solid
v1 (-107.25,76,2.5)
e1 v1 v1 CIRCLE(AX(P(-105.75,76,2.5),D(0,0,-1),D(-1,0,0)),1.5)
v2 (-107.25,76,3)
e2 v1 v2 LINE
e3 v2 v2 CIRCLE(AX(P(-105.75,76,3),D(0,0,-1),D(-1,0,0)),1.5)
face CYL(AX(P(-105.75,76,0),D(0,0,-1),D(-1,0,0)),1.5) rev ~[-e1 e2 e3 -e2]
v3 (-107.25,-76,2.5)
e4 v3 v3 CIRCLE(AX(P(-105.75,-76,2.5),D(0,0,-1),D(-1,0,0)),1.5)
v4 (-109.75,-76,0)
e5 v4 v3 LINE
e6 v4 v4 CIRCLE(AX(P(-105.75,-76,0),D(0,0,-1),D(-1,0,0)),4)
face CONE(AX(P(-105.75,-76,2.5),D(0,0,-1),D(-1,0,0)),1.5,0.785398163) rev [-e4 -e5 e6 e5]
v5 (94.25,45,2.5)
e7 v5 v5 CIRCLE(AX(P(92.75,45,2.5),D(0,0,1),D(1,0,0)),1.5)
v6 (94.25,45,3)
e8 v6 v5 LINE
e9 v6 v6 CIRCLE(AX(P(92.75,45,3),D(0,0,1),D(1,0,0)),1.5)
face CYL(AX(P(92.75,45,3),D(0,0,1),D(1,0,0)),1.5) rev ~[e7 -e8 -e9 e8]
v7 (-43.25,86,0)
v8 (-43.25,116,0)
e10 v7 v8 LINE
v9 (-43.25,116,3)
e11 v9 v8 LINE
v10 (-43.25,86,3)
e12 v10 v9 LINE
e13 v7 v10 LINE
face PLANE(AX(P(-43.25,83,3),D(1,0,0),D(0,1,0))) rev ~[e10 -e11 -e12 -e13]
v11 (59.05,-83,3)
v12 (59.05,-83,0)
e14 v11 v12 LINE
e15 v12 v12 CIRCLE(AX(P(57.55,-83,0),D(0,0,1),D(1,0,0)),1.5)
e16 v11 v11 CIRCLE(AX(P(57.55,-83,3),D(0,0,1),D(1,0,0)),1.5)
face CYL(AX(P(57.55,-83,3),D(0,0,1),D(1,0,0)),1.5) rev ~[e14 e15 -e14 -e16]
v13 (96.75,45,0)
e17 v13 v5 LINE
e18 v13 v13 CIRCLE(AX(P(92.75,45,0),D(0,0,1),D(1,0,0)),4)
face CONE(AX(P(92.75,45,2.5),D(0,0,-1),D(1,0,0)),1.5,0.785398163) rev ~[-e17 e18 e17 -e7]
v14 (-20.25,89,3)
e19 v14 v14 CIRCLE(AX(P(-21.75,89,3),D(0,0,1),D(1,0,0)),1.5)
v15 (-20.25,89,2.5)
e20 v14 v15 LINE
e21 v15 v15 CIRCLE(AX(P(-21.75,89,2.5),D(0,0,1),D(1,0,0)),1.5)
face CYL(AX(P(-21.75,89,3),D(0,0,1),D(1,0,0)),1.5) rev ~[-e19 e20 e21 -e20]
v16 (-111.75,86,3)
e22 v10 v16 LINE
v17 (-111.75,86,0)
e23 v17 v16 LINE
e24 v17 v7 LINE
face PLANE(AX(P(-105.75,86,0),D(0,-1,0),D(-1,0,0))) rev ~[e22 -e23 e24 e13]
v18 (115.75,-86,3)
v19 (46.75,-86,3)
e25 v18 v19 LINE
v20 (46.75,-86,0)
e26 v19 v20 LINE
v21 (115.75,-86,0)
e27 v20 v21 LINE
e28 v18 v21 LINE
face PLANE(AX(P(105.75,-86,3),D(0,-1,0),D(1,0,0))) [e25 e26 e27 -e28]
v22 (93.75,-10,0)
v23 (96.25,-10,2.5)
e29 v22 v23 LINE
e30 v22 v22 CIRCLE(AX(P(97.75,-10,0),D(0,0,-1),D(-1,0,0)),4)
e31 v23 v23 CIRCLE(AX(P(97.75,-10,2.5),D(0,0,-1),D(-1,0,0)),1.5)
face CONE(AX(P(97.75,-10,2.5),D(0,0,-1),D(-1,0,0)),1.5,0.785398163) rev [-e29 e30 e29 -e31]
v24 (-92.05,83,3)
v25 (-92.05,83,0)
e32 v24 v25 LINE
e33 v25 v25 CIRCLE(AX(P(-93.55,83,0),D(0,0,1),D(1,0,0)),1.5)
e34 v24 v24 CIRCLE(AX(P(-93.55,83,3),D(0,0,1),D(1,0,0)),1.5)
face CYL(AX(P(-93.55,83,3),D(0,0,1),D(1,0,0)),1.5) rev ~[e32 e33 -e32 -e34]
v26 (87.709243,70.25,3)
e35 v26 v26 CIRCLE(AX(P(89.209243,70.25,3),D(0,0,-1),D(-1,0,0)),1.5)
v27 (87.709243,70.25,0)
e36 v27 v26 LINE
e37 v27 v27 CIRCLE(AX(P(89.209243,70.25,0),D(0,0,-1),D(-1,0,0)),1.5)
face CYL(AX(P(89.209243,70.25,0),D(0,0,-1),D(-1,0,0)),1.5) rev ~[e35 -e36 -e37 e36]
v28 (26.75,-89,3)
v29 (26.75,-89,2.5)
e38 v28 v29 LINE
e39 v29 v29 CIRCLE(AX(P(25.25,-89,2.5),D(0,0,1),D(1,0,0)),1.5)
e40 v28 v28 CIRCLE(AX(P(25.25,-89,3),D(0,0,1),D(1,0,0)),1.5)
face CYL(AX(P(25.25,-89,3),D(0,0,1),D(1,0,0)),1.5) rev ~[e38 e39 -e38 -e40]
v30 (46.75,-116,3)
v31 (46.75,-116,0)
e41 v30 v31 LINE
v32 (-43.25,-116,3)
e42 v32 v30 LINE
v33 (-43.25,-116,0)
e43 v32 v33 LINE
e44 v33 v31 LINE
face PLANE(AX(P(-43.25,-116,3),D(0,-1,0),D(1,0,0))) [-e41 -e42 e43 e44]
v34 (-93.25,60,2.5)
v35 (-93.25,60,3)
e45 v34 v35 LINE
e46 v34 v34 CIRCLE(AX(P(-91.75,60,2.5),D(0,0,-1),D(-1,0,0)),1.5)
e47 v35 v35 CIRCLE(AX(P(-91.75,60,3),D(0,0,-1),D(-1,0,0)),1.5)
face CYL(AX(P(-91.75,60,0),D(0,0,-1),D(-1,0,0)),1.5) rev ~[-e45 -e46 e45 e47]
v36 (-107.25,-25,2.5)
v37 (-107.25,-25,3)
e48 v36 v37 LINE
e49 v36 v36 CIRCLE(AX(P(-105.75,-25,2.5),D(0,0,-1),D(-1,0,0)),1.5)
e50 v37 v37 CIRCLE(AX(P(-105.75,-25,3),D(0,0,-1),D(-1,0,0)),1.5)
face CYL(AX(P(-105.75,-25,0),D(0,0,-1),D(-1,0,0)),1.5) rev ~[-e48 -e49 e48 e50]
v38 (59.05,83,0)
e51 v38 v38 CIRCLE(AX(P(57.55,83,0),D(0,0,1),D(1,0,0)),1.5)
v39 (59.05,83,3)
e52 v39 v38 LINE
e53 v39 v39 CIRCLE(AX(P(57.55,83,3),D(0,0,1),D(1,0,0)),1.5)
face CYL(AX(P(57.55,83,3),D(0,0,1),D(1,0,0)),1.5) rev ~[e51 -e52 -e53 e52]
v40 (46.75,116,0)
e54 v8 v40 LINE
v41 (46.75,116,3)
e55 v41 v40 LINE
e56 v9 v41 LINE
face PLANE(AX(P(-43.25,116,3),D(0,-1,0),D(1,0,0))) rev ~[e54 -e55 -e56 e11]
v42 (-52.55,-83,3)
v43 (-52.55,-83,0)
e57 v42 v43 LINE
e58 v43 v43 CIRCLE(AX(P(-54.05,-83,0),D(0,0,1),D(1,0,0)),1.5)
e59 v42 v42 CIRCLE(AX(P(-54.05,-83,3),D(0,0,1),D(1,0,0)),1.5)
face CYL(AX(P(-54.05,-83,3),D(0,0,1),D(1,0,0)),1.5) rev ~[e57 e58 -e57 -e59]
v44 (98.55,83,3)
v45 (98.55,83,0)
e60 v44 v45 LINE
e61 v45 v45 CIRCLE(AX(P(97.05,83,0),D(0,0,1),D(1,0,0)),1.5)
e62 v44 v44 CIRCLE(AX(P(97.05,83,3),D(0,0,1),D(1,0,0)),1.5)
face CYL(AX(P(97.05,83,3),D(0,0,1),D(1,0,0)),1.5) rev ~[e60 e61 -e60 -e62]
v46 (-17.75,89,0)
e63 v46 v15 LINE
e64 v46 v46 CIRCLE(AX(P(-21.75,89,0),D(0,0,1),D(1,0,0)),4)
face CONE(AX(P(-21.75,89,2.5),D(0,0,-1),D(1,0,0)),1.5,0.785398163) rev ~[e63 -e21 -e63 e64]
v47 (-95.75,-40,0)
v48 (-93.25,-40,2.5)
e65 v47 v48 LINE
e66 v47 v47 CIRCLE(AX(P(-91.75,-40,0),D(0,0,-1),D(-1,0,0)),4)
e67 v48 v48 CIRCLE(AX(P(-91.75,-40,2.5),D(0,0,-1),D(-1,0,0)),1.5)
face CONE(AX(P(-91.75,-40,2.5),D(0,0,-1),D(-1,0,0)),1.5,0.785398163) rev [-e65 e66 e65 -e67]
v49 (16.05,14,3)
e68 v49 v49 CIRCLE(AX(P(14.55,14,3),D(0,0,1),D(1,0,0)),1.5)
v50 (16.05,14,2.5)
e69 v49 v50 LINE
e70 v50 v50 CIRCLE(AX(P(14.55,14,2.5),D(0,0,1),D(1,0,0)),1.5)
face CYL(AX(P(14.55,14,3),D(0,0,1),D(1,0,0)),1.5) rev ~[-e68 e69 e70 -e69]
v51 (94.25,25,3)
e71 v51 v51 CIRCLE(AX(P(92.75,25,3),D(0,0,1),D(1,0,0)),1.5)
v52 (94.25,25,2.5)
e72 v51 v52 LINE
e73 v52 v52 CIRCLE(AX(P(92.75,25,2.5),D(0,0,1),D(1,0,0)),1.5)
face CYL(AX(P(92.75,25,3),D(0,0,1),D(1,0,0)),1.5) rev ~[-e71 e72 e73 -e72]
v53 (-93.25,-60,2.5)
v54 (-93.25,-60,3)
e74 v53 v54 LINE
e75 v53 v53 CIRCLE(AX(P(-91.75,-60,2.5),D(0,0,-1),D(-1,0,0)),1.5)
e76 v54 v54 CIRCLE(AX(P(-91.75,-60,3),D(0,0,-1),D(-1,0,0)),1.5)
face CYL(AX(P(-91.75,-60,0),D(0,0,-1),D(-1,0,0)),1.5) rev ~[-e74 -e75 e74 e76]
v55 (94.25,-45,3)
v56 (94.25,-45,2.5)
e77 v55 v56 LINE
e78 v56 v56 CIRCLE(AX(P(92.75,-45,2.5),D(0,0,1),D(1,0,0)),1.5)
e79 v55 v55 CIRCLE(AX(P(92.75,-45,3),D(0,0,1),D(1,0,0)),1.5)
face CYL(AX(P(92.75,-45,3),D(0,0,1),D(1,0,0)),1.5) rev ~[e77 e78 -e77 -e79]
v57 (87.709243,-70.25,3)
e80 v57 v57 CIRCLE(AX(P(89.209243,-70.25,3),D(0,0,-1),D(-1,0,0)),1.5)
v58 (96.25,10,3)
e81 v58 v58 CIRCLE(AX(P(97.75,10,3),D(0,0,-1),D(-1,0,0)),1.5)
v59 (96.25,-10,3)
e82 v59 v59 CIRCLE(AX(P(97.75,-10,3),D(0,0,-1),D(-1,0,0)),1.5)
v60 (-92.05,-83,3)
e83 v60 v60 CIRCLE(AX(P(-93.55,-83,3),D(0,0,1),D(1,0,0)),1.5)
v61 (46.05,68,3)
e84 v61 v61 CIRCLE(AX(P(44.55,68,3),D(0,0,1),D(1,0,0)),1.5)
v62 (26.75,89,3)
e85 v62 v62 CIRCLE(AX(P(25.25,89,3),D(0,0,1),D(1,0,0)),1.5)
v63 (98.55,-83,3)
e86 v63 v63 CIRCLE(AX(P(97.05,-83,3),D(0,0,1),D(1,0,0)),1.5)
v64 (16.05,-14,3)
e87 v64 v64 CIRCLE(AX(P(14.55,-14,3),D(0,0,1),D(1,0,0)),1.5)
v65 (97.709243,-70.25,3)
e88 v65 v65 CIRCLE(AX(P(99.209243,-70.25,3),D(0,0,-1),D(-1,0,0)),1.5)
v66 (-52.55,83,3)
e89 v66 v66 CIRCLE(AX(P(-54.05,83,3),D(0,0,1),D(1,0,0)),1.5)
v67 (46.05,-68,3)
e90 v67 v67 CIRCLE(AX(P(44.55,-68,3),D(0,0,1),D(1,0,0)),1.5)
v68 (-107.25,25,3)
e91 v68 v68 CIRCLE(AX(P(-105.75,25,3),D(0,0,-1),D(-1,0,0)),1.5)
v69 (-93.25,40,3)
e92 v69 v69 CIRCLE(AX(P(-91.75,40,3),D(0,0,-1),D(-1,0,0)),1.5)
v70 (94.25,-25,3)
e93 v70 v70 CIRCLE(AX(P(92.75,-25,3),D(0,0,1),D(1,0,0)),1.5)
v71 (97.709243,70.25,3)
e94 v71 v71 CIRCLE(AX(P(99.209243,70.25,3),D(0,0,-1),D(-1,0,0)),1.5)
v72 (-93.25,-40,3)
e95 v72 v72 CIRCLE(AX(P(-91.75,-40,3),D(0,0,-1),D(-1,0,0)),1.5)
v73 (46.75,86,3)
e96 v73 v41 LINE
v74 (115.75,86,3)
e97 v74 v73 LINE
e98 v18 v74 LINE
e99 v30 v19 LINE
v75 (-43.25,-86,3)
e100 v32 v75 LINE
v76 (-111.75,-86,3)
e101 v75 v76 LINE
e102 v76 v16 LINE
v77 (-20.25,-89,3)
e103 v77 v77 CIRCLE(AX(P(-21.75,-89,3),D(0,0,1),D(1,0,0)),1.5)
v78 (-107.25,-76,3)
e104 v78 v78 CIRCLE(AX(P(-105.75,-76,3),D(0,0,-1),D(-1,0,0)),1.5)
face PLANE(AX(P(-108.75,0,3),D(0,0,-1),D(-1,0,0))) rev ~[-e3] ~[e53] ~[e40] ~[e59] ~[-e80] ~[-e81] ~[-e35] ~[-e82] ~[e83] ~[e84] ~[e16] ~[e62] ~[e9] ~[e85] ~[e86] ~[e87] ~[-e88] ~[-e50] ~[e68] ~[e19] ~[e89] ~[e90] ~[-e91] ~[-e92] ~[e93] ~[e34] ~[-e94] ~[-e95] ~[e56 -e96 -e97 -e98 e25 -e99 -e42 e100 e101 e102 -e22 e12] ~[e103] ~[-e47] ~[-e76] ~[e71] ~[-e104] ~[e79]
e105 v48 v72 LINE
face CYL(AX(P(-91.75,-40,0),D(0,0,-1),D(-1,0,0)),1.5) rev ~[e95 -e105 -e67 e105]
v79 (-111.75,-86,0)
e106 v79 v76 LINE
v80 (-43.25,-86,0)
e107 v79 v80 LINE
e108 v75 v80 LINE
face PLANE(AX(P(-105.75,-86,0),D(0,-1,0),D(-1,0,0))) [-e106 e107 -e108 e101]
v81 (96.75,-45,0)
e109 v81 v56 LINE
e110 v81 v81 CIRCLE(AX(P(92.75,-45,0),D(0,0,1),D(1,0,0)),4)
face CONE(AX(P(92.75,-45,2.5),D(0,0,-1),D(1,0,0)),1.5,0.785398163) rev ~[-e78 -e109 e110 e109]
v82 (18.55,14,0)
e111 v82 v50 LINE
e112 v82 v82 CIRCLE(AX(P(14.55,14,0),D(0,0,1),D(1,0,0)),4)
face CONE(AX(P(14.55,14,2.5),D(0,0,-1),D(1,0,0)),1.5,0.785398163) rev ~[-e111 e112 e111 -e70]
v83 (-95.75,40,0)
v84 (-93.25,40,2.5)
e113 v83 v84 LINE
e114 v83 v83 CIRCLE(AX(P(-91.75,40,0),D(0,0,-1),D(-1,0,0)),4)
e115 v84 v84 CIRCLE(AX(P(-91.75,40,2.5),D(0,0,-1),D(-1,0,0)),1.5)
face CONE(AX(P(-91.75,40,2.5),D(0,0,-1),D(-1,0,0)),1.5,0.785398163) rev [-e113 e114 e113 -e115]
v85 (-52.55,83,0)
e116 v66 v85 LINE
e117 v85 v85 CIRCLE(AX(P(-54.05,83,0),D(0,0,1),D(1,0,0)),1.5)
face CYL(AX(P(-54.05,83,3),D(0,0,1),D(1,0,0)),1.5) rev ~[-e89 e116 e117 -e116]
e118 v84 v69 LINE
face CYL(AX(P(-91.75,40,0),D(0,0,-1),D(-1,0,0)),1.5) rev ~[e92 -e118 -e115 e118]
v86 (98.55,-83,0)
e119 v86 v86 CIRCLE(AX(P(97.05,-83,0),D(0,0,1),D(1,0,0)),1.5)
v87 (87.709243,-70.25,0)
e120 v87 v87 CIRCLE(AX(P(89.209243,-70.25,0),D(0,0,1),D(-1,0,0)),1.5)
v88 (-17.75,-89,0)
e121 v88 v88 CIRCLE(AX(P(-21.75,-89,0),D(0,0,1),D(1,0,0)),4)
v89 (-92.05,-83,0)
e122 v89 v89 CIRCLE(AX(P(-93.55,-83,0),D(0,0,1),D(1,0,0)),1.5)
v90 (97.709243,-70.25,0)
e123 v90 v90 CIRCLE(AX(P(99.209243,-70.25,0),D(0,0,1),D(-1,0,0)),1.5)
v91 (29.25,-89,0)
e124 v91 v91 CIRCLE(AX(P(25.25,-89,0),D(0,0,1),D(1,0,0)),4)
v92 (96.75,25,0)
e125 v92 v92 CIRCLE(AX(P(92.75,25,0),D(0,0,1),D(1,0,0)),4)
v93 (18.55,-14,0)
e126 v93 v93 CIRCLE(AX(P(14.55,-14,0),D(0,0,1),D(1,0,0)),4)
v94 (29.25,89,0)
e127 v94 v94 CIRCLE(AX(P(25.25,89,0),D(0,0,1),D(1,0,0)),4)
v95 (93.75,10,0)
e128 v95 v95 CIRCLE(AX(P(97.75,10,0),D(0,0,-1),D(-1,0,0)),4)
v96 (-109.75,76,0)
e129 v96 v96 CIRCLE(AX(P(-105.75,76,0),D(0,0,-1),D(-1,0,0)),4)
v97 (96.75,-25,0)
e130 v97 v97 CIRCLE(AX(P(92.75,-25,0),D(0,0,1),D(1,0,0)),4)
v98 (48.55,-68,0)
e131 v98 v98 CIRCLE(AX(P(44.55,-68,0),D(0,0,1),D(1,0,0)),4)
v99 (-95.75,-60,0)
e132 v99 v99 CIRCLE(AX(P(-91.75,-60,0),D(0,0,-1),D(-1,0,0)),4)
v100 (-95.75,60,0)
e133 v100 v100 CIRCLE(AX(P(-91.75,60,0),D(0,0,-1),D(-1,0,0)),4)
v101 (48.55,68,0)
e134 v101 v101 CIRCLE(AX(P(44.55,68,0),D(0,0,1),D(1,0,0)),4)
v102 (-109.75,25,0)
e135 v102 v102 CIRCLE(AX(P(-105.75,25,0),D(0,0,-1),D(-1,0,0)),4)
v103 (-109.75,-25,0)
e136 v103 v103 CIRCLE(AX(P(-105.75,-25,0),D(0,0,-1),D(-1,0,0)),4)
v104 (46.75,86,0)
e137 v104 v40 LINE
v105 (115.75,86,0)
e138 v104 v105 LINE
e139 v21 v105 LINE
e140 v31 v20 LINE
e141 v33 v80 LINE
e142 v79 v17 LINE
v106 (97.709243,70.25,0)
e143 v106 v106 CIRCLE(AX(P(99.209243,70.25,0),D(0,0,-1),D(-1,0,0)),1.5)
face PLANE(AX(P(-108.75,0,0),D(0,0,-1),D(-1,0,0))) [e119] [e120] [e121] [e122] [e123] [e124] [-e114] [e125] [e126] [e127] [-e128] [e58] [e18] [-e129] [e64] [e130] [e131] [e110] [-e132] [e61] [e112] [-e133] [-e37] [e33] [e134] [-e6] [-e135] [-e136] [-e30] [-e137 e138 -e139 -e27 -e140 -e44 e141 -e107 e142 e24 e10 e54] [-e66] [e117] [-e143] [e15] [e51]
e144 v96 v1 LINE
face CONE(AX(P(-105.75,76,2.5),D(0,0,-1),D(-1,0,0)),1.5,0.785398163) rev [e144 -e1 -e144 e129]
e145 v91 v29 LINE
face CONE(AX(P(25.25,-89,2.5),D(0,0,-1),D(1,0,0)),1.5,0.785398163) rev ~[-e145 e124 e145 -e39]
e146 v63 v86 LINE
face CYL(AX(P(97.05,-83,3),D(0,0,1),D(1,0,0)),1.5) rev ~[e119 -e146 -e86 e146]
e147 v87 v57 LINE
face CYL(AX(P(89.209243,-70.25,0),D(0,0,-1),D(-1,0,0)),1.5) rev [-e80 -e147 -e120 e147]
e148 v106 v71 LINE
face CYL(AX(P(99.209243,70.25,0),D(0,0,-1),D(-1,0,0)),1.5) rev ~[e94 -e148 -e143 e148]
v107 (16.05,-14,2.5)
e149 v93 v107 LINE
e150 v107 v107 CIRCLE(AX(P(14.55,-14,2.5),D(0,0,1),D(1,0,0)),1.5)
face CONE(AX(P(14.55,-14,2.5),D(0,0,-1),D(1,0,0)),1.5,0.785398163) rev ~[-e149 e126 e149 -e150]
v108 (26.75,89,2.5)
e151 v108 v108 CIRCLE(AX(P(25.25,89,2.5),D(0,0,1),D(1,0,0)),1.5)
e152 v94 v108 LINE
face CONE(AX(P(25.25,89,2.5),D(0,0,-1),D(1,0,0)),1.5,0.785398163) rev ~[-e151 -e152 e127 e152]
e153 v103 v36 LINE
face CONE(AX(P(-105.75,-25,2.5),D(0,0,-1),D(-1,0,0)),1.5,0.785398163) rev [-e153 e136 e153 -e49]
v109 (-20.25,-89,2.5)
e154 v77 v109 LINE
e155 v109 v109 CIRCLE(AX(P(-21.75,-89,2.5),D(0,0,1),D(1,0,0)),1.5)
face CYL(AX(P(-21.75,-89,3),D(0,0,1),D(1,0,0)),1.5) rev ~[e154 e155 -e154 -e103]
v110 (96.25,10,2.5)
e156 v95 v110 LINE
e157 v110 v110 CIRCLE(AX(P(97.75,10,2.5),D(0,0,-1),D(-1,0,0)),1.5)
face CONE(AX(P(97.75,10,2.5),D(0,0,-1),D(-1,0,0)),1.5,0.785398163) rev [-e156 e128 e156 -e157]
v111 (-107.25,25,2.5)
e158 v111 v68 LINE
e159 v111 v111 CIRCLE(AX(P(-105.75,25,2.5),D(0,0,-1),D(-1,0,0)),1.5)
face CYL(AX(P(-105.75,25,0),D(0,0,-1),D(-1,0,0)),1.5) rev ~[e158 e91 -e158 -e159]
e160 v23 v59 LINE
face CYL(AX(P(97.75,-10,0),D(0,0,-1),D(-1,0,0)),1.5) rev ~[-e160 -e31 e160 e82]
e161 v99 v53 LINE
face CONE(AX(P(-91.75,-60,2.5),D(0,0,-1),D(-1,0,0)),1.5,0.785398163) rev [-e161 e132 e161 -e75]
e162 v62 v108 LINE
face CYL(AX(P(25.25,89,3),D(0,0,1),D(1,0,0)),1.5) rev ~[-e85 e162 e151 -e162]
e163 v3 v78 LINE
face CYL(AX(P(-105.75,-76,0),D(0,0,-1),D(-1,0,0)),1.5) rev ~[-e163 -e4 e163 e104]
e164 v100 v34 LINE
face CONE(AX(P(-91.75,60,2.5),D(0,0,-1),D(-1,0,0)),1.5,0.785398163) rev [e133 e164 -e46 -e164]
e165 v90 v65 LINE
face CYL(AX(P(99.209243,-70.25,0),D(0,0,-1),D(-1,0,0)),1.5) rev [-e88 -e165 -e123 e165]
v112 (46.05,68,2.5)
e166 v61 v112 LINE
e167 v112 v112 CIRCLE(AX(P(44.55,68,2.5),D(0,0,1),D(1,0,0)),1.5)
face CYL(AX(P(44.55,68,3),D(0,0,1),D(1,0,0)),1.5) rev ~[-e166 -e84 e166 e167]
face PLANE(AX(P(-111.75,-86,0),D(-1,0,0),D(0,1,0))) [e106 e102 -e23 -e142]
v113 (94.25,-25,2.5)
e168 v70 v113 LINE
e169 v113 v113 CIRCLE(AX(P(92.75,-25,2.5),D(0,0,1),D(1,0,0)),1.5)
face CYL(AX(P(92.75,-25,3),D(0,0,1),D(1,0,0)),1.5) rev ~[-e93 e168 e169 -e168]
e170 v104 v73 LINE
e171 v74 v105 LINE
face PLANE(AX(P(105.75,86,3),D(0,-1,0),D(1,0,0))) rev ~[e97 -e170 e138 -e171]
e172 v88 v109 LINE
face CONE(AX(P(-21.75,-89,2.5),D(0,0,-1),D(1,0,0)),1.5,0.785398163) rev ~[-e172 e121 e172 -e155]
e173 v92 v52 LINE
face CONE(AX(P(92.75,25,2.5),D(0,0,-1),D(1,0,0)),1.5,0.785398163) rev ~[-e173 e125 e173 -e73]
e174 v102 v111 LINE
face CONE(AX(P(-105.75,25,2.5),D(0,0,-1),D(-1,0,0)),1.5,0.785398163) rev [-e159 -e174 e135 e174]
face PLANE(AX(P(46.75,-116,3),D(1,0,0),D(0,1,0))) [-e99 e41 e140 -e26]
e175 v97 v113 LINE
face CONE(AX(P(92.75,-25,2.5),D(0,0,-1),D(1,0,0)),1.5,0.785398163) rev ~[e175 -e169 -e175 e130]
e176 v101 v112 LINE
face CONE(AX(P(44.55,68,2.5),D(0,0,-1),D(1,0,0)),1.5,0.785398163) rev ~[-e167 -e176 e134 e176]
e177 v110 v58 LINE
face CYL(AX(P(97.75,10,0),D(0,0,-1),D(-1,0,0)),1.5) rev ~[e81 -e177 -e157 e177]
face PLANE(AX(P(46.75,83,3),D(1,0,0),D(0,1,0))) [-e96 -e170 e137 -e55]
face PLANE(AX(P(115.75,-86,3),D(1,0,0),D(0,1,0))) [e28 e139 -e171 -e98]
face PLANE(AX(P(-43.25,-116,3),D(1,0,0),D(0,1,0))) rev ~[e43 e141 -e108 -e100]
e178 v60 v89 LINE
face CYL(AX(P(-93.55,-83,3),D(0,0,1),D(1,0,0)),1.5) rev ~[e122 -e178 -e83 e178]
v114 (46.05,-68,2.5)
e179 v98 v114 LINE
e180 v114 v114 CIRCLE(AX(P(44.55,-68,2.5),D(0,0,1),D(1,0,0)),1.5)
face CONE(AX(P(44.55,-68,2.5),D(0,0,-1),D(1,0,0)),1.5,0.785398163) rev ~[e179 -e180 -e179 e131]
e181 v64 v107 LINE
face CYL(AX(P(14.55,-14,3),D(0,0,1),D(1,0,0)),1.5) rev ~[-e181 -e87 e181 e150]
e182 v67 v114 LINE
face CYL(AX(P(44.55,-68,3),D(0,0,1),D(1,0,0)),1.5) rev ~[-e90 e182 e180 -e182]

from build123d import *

# Parameters (mm, degrees)
EXTRUDE_1_DEPTH     = 3
SKETCH_2_R          = 1.5
CUT_EXTRUDE_1_DEPTH = 10
SKETCH_3_W          = 10
SKETCH_3_H          = 172
SKETCH_3_W_2        = 90
SKETCH_3_H_2        = 33
EXTRUDE_2_DEPTH     = 3
SKETCH_4_R          = 1.5
CUT_EXTRUDE_2_DEPTH = 10
SKETCH_5_R          = 1.5
CUT_EXTRUDE_3_DEPTH = 10
SKETCH_6_R          = 1.5
CUT_EXTRUDE_4_DEPTH = 10
SKETCH_7_R          = 1.5
CUT_EXTRUDE_5_DEPTH = 74
SKETCH_8_R          = 1.5
CUT_EXTRUDE_6_DEPTH = 10
SKETCH_9_W          = 6
SKETCH_9_H          = 172
EXTRUDE_3_DEPTH     = 3
SKETCH_10_R         = 1.5
CUT_EXTRUDE_7_DEPTH = 15
CHAMFER_2_SIZE      = 2.5
CHAMFER_3_SIZE      = 2.5
CHAMFER_4_SIZE      = 2.5
CHAMFER_5_SIZE      = 2.5
CHAMFER_6_SIZE      = 2.5
CHAMFER_7_SIZE      = 2.5
CHAMFER_8_SIZE      = 2.5
SKETCH_11_R         = 1.5
CUT_EXTRUDE_8_DEPTH = 10


with BuildPart() as part:
    # 草图1 → 凸台-拉伸1 (new body)
    with BuildSketch(Plane.XY):
        Polygon((-105.75, 86), (-105.75, 70), (-105.75, -86), (105.75, -86), (105.75, 86), align=None)
    extrude(amount=EXTRUDE_1_DEPTH)

    # 草图2 → 切除-拉伸1 (cut)
    with BuildSketch(Plane.XY.offset(3)):
        with Locations((97.05, 83)):
            Circle(SKETCH_2_R)
        with Locations((-93.55, 83)):
            Circle(SKETCH_2_R)
        with Locations((57.55, 83)):
            Circle(SKETCH_2_R)
        with Locations((-54.05, 83)):
            Circle(SKETCH_2_R)
        with Locations((57.55, -83)):
            Circle(SKETCH_2_R)
        with Locations((97.05, -83)):
            Circle(SKETCH_2_R)
        with Locations((-54.05, -83)):
            Circle(SKETCH_2_R)
        with Locations((-93.55, -83)):
            Circle(SKETCH_2_R)
    extrude(amount=-CUT_EXTRUDE_1_DEPTH, mode=Mode.SUBTRACT)

    # 草图3 → 凸台-拉伸2 (add)
    with BuildSketch(Plane.XY.offset(3)):
        with Locations((110.75, 0)):
            Rectangle(SKETCH_3_W, SKETCH_3_H)
        with Locations((1.75, 99.5)):
            Rectangle(SKETCH_3_W_2, SKETCH_3_H_2)
        with Locations((1.75, -99.5)):
            Rectangle(SKETCH_3_W_2, SKETCH_3_H_2)
    extrude(amount=-EXTRUDE_2_DEPTH)

    # 草图4 → 切除-拉伸2 (cut)
    with BuildSketch(Plane.XY.offset(3)):
        with Locations((44.55, 68)):
            Circle(SKETCH_4_R)
        with Locations((14.55, -14)):
            Circle(SKETCH_4_R)
        with Locations((14.55, 14)):
            Circle(SKETCH_4_R)
        with Locations((44.55, -68)):
            Circle(SKETCH_4_R)
    extrude(amount=-CUT_EXTRUDE_2_DEPTH, mode=Mode.SUBTRACT)

    # 草图5 → 切除-拉伸3 (cut)
    with BuildSketch(Plane.XY.offset(3)):
        with Locations((92.75, 45)):
            Circle(SKETCH_5_R)
        with Locations((92.75, 25)):
            Circle(SKETCH_5_R)
        with Locations((92.75, -25)):
            Circle(SKETCH_5_R)
        with Locations((92.75, -45)):
            Circle(SKETCH_5_R)
    extrude(amount=-CUT_EXTRUDE_3_DEPTH, mode=Mode.SUBTRACT)

    # 草图6 → 切除-拉伸4 (cut)
    with BuildSketch(Plane.XY.offset(3)):
        with Locations((25.25, -89)):
            Circle(SKETCH_6_R)
        with Locations((-21.75, 89)):
            Circle(SKETCH_6_R)
        with Locations((25.25, 89)):
            Circle(SKETCH_6_R)
        with Locations((-21.75, -89)):
            Circle(SKETCH_6_R)
    extrude(amount=-CUT_EXTRUDE_4_DEPTH, mode=Mode.SUBTRACT)

    # 草图7 → 切除-拉伸5 (cut)
    with BuildSketch(Plane(origin=(0, 0, 0), x_dir=(-1, 0, 0), z_dir=(0, 0, -1))):
        with Locations((91.75, -60)):
            Circle(SKETCH_7_R)
        with Locations((91.75, -40)):
            Circle(SKETCH_7_R)
        with Locations((91.75, 60)):
            Circle(SKETCH_7_R)
        with Locations((91.75, 40)):
            Circle(SKETCH_7_R)
    extrude(amount=-CUT_EXTRUDE_5_DEPTH, mode=Mode.SUBTRACT)

    # 草图8 → 切除-拉伸6 (cut)
    with BuildSketch(Plane(origin=(0, 0, 0), x_dir=(-1, 0, 0), z_dir=(0, 0, -1))):
        with Locations((-97.75, 10)):
            Circle(SKETCH_8_R)
        with Locations((-97.75, -10)):
            Circle(SKETCH_8_R)
    extrude(amount=-CUT_EXTRUDE_6_DEPTH, mode=Mode.SUBTRACT)

    # 草图9 → 凸台-拉伸3 (add)
    with BuildSketch(Plane(origin=(0, 0, 0), x_dir=(-1, 0, 0), z_dir=(0, 0, -1))):
        with Locations((108.75, 0)):
            Rectangle(SKETCH_9_W, SKETCH_9_H)
    extrude(amount=-EXTRUDE_3_DEPTH)

    # 草图10 → 切除-拉伸7 (cut)
    with BuildSketch(Plane(origin=(0, 0, 0), x_dir=(-1, 0, 0), z_dir=(0, 0, -1))):
        with Locations((105.75, 76)):
            Circle(SKETCH_10_R)
        with Locations((105.75, 25)):
            Circle(SKETCH_10_R)
        with Locations((105.75, -25)):
            Circle(SKETCH_10_R)
        with Locations((105.75, -76)):
            Circle(SKETCH_10_R)
    extrude(amount=-CUT_EXTRUDE_7_DEPTH, mode=Mode.SUBTRACT)

    # 倒角2
    chamfer_2_edges = [part.edges().sort_by_distance(p)[0] for p in [
        (23.75, 89, 0),
    ]]
    chamfer(chamfer_2_edges, length=CHAMFER_2_SIZE)

    # 倒角3
    chamfer_3_edges = [part.edges().sort_by_distance(p)[0] for p in [
        (-23.25, 89, 0),
        (-90.25, -60, 0),
        (-90.25, -40, 0),
        (-90.25, 60, 0),
        (-90.25, 40, 0),
        (-104.25, 76, 0),
        (-104.25, 25, 0),
        (-104.25, -25, 0),
        (-104.25, -76, 0),
    ]]
    chamfer(chamfer_3_edges, length=CHAMFER_3_SIZE)

    # 倒角4
    chamfer_4_edges = [part.edges().sort_by_distance(p)[0] for p in [
        (43.05, -68, 0),
        (23.75, -89, 0),
        (-23.25, -89, 0),
    ]]
    chamfer(chamfer_4_edges, length=CHAMFER_4_SIZE)

    # 倒角5
    chamfer_5_edges = [part.edges().sort_by_distance(p)[0] for p in [
        (91.25, 45, 0),
        (91.25, 25, 0),
        (91.25, -25, 0),
        (91.25, -45, 0),
        (99.25, 10, 0),
        (99.25, -10, 0),
    ]]
    chamfer(chamfer_5_edges, length=CHAMFER_5_SIZE)

    # 倒角6
    chamfer_6_edges = [part.edges().sort_by_distance(p)[0] for p in [
        (13.05, 14, 0),
    ]]
    chamfer(chamfer_6_edges, length=CHAMFER_6_SIZE)

    # 倒角7
    chamfer_7_edges = [part.edges().sort_by_distance(p)[0] for p in [
        (43.05, 68, 0),
    ]]
    chamfer(chamfer_7_edges, length=CHAMFER_7_SIZE)

    # 倒角8
    chamfer_8_edges = [part.edges().sort_by_distance(p)[0] for p in [
        (13.05, -14, 0),
    ]]
    chamfer(chamfer_8_edges, length=CHAMFER_8_SIZE)

    # 草图11 → 切除-拉伸8 (cut)
    with BuildSketch(Plane(origin=(0, 0, 0), x_dir=(-1, 0, 0), z_dir=(0, 0, -1))):
        with Locations((-89.209242617, 70.25)):
            Circle(SKETCH_11_R)
        with Locations((-99.209242617, 70.25)):
            Circle(SKETCH_11_R)
    cut_extrude_8 = extrude(amount=-CUT_EXTRUDE_8_DEPTH, mode=Mode.SUBTRACT)

    # 镜向1: 切除-拉伸8 across plane
    add(cut_extrude_8.mirror(Plane.ZX), mode=Mode.SUBTRACT)


solid = part.part
